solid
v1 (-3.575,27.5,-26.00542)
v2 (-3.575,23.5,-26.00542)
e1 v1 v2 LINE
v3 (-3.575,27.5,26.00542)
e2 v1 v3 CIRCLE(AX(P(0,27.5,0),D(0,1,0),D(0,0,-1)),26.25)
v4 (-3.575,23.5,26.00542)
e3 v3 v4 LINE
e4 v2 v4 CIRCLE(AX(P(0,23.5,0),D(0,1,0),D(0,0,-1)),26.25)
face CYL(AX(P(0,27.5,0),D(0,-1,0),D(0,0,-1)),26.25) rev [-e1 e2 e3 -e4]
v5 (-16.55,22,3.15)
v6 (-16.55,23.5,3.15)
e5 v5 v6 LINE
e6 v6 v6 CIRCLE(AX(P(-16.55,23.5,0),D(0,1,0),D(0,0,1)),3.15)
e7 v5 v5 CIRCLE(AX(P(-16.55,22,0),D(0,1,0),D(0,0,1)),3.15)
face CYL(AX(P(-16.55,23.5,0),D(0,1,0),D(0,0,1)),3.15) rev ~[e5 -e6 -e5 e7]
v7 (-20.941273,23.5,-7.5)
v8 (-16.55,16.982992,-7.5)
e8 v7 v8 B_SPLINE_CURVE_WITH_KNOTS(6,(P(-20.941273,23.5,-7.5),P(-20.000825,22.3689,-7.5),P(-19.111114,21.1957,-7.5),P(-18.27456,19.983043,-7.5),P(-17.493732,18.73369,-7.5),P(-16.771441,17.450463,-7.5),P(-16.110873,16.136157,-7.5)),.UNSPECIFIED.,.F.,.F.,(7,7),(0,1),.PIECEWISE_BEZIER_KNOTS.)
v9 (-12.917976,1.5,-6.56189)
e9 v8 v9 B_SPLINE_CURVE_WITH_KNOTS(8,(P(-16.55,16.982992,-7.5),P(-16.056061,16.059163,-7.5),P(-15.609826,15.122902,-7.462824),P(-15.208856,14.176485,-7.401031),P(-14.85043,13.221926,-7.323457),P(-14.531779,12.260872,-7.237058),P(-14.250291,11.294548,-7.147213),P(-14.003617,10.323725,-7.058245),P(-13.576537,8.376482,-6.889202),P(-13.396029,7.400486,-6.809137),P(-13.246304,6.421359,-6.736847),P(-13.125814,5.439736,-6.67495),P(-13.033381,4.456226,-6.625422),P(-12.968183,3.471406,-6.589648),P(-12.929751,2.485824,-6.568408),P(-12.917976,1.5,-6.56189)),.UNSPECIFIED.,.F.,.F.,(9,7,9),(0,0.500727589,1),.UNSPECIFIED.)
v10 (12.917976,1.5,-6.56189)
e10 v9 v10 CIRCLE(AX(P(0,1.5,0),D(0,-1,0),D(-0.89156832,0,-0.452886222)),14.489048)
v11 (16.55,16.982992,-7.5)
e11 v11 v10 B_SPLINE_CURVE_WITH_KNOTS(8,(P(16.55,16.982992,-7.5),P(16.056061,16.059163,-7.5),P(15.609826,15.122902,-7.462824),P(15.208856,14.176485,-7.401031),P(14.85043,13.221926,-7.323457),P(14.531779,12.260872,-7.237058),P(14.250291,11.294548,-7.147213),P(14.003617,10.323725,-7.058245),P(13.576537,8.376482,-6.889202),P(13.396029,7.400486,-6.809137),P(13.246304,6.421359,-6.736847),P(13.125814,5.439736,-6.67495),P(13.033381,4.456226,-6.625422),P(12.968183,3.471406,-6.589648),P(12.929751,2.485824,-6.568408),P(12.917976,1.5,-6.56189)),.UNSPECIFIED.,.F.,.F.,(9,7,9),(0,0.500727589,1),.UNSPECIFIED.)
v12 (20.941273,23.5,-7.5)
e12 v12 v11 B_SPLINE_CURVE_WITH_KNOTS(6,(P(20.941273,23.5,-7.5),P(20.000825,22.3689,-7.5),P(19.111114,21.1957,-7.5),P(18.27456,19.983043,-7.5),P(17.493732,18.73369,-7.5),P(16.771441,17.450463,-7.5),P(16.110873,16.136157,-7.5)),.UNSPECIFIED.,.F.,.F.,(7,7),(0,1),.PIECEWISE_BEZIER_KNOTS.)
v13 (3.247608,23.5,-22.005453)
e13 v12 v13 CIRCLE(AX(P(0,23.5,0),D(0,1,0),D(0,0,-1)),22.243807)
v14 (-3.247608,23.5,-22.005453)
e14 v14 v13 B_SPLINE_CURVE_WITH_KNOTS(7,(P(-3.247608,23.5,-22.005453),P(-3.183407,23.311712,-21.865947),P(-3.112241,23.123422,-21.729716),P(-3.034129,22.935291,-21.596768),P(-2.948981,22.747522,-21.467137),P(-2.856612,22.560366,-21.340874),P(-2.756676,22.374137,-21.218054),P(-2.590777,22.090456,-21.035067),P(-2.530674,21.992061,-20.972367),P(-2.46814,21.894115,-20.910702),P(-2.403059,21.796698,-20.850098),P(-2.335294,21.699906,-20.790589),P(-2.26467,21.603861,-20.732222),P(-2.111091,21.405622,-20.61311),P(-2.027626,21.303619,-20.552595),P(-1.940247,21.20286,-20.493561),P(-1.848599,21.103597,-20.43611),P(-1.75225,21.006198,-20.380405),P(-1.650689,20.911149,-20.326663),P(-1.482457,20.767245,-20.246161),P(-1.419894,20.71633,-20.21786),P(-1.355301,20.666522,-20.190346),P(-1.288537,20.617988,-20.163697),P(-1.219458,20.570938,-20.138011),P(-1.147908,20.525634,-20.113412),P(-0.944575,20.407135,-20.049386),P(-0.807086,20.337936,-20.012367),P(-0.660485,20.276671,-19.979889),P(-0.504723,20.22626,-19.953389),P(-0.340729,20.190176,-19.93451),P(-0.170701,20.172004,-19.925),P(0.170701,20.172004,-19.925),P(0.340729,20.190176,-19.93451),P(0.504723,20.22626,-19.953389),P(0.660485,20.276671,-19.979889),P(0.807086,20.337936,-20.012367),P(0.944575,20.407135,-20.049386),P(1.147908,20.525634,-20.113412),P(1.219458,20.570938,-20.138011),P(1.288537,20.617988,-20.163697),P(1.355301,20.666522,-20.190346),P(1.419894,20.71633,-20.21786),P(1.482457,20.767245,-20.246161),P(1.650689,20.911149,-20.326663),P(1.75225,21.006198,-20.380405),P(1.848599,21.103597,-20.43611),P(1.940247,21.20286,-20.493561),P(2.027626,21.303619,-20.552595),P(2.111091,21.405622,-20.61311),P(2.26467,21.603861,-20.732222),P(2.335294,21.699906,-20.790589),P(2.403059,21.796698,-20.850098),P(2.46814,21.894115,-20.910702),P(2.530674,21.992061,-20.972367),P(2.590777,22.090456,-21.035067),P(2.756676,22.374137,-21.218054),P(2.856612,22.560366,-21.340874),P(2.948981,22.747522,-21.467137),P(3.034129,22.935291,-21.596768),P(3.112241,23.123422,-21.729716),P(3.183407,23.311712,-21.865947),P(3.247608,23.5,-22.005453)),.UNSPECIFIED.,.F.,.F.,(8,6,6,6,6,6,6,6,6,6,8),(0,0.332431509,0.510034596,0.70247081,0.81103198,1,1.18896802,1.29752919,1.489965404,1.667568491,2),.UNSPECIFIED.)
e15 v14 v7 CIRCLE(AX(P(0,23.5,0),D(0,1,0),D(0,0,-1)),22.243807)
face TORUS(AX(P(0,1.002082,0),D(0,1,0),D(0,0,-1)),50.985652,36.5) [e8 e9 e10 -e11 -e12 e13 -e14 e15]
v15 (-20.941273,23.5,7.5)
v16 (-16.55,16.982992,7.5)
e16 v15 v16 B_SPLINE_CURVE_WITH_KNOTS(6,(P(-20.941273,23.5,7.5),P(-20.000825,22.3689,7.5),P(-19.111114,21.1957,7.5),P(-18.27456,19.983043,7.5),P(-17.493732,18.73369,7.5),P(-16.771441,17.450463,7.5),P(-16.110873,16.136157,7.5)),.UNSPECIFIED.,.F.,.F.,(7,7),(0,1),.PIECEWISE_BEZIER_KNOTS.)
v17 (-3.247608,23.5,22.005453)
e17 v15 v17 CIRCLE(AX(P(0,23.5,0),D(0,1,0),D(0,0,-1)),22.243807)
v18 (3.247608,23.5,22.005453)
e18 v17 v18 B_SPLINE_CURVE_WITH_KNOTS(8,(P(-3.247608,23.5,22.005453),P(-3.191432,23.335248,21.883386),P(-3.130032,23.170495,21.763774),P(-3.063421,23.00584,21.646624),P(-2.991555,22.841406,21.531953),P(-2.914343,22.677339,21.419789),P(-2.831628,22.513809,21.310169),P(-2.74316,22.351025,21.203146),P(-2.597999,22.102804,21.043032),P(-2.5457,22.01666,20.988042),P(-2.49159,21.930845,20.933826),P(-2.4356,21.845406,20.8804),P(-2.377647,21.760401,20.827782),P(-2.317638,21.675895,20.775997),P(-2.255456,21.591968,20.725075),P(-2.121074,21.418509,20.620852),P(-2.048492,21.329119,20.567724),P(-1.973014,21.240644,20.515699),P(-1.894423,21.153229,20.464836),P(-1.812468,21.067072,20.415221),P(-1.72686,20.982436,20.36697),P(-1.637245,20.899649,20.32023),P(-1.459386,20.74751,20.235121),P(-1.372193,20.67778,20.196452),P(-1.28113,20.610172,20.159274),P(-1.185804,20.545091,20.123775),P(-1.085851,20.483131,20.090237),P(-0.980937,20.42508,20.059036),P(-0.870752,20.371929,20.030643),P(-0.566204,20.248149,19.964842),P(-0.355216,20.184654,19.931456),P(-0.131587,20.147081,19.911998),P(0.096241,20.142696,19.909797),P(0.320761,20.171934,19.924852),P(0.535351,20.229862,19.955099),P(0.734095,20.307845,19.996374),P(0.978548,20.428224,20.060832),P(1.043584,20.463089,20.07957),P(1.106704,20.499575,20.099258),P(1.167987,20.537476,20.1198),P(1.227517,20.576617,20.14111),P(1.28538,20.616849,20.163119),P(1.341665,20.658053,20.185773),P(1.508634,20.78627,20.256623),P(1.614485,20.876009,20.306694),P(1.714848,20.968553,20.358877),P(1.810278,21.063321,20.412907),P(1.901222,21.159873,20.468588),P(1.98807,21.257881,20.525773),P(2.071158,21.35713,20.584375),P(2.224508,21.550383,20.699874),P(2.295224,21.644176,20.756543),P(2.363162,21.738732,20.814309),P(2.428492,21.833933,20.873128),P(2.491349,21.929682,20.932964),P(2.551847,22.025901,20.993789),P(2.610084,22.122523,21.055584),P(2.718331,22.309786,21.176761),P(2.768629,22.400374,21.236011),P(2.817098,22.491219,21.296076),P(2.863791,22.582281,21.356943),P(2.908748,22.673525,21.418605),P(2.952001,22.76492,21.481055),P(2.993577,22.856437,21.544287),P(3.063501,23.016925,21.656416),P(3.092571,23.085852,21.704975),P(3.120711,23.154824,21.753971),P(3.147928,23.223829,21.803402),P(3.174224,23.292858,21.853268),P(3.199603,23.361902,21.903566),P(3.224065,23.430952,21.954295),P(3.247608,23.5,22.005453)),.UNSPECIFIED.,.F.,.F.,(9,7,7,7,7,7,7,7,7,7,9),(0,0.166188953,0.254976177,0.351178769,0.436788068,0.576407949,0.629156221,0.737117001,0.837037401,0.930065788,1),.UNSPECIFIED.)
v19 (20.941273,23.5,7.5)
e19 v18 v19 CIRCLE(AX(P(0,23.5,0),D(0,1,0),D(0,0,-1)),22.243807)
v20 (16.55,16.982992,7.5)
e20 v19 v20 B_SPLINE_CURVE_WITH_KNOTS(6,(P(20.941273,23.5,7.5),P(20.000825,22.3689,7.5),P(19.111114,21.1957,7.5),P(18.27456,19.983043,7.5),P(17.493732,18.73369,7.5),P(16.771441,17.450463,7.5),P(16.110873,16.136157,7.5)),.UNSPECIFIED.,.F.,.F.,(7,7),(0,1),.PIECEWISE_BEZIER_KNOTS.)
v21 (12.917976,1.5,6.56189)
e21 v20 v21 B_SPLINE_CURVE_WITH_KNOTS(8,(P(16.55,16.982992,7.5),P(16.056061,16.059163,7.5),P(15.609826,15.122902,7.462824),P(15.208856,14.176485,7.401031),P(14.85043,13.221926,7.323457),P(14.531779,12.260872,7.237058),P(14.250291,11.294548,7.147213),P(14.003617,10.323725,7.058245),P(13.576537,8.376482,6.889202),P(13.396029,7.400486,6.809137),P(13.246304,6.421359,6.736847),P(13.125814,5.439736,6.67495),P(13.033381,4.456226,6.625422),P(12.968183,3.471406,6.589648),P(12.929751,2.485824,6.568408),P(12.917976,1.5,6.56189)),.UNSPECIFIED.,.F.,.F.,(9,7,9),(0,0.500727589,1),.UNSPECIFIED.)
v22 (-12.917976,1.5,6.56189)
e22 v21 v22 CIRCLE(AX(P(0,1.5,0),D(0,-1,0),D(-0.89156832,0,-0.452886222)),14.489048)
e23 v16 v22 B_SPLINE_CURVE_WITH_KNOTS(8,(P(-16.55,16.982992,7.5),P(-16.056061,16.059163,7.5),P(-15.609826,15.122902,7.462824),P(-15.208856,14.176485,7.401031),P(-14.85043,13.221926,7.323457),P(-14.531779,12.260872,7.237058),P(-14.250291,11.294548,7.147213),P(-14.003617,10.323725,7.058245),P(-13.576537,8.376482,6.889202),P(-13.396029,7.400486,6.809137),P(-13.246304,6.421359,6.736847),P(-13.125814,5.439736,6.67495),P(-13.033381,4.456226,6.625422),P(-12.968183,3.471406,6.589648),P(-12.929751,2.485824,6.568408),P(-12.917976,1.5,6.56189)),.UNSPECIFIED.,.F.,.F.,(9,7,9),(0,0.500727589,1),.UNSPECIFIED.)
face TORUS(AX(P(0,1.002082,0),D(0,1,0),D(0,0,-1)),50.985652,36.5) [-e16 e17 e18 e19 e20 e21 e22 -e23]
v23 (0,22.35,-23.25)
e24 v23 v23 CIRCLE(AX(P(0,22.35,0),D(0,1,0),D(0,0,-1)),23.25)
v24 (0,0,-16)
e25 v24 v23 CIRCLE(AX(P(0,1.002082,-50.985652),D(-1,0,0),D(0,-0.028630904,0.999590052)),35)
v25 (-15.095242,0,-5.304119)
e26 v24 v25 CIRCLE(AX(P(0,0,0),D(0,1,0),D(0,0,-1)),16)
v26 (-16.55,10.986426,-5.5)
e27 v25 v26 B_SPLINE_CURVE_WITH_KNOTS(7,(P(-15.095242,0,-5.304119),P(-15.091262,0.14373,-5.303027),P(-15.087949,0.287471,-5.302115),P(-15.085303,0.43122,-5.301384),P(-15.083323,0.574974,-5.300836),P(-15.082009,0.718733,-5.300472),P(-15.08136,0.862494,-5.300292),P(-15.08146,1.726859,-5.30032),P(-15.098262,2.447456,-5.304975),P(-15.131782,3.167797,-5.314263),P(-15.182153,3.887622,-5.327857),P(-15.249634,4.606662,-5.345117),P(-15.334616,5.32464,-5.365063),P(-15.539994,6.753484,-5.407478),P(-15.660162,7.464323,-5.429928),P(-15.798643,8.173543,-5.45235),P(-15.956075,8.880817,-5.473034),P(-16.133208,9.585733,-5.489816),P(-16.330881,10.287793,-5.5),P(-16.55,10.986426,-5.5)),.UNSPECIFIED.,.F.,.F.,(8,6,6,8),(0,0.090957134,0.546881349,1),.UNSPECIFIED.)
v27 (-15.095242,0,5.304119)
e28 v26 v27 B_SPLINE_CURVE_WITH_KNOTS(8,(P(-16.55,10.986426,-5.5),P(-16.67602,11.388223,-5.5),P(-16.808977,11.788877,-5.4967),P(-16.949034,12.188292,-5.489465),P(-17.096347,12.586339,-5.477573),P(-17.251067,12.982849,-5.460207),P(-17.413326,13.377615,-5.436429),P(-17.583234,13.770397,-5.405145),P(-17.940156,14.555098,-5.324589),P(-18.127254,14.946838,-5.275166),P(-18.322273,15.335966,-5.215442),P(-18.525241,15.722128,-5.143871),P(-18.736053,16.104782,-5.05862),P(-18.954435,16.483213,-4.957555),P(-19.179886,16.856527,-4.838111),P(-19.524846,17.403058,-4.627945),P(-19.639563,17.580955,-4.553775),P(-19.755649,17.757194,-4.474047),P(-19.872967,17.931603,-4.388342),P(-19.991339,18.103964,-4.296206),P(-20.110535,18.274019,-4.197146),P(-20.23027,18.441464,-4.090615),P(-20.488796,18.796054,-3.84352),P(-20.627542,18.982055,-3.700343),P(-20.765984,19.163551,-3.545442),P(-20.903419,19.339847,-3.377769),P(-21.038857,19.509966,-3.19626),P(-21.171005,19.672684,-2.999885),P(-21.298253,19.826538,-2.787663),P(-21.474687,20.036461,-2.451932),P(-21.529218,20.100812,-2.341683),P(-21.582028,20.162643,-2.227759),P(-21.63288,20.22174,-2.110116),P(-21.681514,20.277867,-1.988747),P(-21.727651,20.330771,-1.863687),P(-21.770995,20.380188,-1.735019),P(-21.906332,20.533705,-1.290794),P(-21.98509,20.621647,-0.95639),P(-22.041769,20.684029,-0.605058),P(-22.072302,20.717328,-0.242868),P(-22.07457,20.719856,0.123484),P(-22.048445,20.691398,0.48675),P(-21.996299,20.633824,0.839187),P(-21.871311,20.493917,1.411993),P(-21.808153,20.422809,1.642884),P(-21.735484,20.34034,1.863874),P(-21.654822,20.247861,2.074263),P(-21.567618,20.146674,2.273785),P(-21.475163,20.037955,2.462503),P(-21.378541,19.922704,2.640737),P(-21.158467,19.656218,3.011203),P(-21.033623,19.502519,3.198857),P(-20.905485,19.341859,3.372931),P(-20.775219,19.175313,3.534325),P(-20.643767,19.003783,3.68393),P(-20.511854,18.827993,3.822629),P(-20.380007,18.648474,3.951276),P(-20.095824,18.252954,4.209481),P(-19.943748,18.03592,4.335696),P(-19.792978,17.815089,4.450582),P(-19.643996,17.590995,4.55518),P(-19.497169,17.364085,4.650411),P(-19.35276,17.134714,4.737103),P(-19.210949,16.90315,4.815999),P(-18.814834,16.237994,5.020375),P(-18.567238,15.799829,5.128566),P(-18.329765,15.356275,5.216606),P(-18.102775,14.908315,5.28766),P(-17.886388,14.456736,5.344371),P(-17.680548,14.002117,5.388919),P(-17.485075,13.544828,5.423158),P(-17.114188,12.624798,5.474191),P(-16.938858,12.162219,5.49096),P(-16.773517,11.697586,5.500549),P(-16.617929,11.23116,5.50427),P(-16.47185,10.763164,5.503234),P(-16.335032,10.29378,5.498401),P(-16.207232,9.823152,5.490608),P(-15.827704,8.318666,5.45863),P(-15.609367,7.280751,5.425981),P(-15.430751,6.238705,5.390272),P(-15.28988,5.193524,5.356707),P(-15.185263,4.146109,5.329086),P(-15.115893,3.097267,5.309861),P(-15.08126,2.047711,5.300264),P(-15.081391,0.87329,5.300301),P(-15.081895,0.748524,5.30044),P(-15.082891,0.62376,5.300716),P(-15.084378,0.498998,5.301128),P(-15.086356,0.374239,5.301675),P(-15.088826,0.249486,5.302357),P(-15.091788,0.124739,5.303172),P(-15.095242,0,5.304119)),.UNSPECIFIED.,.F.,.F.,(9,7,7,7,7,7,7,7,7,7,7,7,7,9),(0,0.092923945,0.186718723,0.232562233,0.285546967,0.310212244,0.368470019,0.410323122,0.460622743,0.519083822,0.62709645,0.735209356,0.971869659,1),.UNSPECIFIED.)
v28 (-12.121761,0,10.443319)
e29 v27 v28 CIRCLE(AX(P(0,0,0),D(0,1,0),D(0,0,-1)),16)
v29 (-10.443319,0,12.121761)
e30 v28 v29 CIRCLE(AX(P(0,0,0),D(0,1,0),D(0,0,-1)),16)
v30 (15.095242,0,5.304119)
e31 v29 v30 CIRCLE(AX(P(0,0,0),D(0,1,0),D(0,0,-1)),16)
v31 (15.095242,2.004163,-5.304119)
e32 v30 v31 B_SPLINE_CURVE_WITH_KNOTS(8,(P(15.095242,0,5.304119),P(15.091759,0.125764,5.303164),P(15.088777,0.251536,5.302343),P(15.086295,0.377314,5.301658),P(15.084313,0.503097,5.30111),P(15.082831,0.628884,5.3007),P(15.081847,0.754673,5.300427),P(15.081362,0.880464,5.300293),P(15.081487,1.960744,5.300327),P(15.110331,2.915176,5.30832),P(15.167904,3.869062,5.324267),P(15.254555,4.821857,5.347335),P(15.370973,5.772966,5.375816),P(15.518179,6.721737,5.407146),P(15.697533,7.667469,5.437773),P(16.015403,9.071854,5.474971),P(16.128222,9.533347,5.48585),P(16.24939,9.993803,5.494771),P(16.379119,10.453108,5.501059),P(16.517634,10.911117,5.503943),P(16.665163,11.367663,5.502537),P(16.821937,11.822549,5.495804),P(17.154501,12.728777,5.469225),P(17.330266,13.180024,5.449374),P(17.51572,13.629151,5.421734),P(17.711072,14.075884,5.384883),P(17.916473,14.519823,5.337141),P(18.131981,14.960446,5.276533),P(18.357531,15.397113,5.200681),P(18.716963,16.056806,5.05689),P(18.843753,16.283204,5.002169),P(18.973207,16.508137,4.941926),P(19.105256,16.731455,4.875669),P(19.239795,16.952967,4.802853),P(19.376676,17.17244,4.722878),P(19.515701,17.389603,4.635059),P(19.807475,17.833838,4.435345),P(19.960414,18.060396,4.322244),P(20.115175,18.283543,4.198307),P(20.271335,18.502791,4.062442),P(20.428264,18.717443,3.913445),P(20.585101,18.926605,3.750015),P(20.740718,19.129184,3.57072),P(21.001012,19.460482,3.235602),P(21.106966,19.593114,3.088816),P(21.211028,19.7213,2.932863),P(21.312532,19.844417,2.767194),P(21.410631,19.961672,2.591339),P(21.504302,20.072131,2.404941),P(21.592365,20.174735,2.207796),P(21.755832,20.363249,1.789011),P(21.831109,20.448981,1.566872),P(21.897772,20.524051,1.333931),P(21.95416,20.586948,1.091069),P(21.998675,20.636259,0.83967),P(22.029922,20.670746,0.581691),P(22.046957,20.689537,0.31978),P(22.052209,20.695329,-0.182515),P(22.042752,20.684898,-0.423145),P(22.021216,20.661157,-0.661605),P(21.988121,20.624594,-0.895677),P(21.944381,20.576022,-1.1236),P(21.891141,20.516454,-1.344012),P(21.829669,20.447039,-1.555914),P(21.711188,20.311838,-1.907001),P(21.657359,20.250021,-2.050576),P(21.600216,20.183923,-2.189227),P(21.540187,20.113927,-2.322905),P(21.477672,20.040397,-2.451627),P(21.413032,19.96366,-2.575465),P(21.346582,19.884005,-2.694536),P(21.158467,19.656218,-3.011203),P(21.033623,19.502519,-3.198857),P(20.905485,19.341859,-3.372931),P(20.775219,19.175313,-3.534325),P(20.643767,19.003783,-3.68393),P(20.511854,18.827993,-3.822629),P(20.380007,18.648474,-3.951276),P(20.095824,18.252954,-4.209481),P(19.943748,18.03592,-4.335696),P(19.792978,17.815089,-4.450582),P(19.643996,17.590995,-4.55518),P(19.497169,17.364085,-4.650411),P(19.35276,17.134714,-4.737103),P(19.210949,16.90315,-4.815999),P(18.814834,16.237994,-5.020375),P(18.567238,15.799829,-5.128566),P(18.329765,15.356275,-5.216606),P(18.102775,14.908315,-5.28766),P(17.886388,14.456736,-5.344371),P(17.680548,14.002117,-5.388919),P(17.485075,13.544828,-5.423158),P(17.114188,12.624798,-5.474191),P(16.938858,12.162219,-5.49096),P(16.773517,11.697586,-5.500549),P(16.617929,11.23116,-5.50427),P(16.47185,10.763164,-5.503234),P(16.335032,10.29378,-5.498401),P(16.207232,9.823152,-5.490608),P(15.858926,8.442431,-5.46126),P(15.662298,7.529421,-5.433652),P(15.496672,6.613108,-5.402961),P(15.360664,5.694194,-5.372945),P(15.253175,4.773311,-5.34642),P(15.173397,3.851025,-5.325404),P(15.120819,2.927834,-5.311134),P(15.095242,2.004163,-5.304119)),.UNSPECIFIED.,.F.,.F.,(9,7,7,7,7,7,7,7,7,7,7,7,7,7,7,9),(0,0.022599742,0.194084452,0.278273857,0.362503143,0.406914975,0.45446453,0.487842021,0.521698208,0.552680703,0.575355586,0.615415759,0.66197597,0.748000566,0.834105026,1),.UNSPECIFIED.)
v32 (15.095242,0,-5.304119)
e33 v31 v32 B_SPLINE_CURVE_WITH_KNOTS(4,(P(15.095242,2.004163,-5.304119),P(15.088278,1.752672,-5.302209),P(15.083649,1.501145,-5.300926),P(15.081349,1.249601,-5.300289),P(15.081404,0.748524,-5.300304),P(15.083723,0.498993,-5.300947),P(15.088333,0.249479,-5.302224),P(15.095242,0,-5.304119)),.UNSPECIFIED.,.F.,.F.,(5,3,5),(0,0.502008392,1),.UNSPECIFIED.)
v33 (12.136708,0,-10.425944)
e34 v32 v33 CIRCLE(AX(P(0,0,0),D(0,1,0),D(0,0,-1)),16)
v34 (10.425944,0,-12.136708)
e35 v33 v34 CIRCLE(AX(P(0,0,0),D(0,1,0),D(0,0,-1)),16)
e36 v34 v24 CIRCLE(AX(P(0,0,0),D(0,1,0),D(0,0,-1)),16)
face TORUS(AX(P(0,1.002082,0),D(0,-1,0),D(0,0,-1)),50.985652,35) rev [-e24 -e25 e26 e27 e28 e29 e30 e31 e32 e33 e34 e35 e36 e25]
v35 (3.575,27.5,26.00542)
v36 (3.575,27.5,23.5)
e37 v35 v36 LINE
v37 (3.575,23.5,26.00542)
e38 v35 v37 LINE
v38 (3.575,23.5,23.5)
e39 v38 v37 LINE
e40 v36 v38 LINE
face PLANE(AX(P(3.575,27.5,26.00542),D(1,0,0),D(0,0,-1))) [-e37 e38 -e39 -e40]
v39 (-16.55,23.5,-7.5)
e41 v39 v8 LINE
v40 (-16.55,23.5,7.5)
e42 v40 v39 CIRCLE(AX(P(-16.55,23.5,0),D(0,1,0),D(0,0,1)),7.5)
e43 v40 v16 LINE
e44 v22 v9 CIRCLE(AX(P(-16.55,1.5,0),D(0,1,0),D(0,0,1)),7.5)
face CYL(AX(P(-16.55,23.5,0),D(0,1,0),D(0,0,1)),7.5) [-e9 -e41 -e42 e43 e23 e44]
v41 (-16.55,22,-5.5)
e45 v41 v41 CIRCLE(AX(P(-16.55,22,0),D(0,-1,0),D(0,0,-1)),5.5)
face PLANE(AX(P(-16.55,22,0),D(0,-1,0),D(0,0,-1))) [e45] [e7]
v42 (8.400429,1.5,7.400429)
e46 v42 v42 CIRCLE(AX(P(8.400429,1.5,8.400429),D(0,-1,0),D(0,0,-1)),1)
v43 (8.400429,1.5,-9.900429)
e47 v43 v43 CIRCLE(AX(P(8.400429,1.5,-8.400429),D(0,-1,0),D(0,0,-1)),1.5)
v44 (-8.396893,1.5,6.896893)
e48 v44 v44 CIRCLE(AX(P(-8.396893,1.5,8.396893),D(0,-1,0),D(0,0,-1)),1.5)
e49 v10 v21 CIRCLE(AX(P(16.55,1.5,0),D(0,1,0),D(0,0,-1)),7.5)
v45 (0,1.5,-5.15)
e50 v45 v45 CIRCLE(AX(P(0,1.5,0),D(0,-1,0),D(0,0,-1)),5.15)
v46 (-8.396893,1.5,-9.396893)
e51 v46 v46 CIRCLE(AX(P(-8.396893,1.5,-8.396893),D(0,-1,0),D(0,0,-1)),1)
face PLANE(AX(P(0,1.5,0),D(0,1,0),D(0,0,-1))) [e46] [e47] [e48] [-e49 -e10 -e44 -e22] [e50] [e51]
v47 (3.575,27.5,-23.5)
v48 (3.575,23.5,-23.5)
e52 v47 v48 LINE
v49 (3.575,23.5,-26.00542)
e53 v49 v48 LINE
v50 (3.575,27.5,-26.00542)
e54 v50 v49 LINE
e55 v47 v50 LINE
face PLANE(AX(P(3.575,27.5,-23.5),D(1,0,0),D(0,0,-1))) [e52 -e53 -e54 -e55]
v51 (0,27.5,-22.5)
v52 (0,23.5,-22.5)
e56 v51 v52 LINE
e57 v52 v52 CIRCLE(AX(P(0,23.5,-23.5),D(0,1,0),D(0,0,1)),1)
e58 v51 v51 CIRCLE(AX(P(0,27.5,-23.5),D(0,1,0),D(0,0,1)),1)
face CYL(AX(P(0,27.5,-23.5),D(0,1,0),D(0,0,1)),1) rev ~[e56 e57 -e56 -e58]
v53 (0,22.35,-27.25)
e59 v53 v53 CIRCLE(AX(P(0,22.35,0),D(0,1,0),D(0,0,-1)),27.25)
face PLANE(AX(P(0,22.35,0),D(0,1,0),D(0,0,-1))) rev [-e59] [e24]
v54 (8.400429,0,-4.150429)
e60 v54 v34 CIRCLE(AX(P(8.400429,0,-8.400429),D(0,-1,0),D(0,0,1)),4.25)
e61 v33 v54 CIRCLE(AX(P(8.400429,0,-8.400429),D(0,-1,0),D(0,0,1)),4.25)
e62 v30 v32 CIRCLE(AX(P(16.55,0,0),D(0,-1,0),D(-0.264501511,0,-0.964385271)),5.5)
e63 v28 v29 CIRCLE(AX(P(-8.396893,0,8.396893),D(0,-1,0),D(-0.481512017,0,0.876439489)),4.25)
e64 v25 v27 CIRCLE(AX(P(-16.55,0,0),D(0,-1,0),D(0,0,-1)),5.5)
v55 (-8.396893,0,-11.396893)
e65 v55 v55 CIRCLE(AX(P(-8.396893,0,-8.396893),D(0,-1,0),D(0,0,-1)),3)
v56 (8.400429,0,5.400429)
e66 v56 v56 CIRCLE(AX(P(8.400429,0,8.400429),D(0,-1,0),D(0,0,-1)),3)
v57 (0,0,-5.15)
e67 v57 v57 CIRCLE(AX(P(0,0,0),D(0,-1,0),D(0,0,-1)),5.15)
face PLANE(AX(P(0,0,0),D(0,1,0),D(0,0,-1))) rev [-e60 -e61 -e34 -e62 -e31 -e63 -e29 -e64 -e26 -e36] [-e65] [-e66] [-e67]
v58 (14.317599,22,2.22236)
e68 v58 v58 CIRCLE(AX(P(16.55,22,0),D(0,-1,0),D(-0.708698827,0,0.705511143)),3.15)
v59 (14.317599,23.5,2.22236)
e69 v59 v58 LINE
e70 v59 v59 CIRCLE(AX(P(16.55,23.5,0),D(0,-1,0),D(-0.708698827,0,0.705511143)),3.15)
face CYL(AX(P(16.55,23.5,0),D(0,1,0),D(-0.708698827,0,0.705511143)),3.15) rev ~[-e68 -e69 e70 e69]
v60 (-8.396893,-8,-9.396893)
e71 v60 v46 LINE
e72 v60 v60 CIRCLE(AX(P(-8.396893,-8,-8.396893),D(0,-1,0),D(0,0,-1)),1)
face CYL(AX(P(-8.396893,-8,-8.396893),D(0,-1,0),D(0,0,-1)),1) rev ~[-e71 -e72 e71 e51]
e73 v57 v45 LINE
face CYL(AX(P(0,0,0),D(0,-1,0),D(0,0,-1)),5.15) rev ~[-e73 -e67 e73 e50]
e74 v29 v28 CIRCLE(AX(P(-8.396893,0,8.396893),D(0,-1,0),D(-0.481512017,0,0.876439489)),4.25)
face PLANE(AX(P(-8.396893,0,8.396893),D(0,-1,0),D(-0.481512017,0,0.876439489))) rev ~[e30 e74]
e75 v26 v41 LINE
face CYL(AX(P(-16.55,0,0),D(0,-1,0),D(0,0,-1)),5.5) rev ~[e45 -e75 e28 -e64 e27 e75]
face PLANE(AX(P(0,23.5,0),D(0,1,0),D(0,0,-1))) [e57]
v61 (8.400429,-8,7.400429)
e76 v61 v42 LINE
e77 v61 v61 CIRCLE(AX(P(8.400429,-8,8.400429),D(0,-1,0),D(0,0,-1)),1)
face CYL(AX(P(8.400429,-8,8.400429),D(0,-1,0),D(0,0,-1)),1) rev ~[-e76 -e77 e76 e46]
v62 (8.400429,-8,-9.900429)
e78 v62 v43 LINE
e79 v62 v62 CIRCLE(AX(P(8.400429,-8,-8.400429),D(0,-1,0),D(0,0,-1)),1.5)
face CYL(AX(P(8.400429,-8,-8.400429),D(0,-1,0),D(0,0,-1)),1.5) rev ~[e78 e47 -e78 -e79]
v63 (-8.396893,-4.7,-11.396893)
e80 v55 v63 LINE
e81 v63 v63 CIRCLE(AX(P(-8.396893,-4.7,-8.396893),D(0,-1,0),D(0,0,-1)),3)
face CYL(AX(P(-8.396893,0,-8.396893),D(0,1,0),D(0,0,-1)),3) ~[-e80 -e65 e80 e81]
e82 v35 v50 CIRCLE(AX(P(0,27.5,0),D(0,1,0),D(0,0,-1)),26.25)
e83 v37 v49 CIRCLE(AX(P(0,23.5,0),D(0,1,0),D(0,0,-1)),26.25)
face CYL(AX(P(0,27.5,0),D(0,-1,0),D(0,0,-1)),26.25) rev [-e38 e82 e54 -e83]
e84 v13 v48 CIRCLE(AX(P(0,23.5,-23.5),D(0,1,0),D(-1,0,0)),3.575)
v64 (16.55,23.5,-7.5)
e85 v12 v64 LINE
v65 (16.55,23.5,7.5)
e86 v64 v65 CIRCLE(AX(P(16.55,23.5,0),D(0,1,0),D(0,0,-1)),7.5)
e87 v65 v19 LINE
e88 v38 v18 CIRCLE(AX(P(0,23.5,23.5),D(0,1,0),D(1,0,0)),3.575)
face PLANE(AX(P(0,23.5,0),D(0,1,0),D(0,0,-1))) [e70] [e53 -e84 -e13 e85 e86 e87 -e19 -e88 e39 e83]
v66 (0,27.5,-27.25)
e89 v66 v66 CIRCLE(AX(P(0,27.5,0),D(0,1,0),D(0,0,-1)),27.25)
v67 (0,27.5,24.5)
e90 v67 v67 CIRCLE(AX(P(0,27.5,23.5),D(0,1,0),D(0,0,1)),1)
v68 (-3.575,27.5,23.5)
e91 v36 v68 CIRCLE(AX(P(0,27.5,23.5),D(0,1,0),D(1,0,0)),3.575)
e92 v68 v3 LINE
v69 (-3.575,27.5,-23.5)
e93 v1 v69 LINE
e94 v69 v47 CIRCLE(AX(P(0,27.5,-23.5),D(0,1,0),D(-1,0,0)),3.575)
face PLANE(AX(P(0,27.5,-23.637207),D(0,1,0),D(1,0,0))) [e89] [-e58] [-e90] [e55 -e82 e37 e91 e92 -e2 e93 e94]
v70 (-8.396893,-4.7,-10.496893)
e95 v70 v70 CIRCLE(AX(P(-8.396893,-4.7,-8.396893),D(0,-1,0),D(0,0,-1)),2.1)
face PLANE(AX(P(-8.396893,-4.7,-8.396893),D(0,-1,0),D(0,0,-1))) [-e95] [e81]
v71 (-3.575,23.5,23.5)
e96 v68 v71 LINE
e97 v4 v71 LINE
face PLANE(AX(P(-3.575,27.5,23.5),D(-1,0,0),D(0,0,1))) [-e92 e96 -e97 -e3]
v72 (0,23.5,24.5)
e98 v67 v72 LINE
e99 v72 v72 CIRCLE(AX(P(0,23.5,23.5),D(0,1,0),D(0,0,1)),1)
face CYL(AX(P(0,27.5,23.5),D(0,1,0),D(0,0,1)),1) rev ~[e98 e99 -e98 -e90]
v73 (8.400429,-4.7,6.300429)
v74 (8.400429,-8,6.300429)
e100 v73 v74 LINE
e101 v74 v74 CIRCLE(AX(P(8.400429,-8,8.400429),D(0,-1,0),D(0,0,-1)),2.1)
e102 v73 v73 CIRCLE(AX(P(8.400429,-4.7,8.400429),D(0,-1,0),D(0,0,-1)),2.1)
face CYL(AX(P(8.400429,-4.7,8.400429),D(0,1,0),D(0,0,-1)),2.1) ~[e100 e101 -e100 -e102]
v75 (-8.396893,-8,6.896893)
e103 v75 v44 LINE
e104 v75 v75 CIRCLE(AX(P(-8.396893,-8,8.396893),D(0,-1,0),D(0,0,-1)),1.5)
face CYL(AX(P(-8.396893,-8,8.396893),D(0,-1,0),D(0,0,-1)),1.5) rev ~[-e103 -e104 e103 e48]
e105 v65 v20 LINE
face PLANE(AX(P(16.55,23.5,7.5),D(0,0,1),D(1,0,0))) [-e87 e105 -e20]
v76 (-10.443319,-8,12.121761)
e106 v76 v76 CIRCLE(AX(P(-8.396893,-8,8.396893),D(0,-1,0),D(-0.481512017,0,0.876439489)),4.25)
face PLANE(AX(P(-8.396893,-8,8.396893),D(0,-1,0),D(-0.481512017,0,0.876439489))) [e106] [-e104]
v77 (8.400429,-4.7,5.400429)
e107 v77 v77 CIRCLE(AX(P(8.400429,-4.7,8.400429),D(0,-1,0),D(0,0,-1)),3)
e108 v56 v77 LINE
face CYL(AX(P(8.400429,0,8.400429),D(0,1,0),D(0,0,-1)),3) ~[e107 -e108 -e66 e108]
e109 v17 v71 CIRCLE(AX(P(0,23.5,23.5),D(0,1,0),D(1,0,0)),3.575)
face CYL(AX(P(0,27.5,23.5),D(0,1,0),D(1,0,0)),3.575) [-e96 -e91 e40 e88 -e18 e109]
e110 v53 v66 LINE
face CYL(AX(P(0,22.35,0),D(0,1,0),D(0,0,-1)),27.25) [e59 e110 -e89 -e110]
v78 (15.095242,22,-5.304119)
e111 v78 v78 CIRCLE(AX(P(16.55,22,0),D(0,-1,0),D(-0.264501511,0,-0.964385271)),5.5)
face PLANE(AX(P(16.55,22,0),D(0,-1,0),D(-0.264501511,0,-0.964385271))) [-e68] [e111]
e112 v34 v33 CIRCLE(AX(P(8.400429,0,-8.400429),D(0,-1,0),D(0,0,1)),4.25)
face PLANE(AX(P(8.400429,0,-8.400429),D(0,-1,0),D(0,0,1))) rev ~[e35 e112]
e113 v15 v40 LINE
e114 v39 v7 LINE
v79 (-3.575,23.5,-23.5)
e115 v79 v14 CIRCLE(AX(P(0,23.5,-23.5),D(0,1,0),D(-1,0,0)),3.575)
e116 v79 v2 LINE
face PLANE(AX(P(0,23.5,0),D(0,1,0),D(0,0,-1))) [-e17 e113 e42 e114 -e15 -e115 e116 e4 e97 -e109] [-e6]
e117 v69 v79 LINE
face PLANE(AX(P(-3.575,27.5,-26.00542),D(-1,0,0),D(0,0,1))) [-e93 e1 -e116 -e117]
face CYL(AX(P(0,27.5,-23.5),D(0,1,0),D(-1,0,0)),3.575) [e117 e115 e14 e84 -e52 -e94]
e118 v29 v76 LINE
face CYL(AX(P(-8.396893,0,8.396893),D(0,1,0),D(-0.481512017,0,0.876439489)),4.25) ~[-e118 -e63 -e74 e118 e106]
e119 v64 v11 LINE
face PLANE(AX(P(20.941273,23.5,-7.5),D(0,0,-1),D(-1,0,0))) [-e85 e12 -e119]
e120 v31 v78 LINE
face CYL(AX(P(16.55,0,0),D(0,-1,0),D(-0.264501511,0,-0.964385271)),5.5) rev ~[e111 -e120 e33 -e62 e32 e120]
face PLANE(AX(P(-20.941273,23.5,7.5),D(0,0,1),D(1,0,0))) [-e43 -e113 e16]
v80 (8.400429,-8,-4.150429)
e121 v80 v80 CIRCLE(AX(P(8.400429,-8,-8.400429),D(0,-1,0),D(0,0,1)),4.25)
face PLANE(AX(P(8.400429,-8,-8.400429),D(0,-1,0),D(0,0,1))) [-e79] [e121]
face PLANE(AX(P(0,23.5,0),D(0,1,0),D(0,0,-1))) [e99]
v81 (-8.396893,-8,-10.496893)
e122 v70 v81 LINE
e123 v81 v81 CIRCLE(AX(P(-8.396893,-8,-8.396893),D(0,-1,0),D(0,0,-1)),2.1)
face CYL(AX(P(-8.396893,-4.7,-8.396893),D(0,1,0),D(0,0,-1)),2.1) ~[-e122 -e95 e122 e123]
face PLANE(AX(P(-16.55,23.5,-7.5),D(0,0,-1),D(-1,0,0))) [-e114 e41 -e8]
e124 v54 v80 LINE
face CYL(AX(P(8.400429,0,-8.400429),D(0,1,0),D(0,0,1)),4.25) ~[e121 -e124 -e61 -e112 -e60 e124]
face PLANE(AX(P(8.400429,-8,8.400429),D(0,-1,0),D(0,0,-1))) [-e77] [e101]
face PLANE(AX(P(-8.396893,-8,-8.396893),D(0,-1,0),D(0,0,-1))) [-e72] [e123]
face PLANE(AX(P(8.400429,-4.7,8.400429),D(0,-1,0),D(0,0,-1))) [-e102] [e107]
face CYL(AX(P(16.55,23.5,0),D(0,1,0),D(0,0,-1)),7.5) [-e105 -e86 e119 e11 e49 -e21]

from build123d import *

# Parameters (mm, degrees)
BOSS_EXTRU_1_REACH      = 49.343
ESQUISSE4_R             = 1
BOSS_EXTRU_2_REACH      = 47.137
ESQUISSE5_R             = 3.15
ESQUISSE6_R             = 5.15
ENL_V_MAT_EXTRU_2_DEPTH = 22
ESQUISSE8_R             = 3.15
ENL_V_MAT_EXTRU_3_DEPTH = 46.13729057
ESQUISSE9_R             = 5.5
ENL_V_MAT_EXTRU_5_DEPTH = 22
ESQUISSE10_R            = 4.25
ESQUISSE10_R_2          = 3
BOSS_EXTRU_3_DEPTH      = 8
ESQUISSE11_R            = 1.5
ENL_V_MAT_EXTRU_6_DEPTH = 53.396326275
ESQUISSE12_R            = 1
ENL_V_MAT_EXTRU_7_DEPTH = 53.396326275
ENL_V_START             = -3.3
ESQUISSE13_R            = 3
ESQUISSE13_R_2          = 2.1
ENL_V_MAT_EXTRU_8_DEPTH = 3.3


with BuildPart() as part:
    # Esquisse1 → Révolution1 (revolve)
    with BuildSketch(Plane.XY, mode=Mode.PRIVATE) as r_volution1_sk:
        with BuildLine():
            Line((0, 0), (16, 0))
            ThreePointArc((16, 0), (17.693443908, 11.801567412), (23.25, 22.35))
            Line((23.25, 22.35), (27.25, 22.35))
            Line((27.25, 22.35), (27.25, 27.5))
            Line((27.25, 27.5), (26.25, 27.5))
            Line((26.25, 27.5), (26.25, 23.5))
            Line((26.25, 23.5), (22.243806548, 23.5))
            ThreePointArc((22.243806548, 23.5), (16.561622355, 13.136173942), (14.489048167, 1.5))
            Line((14.489048167, 1.5), (0, 1.5))
            Line((0, 1.5), (0, 0))
        make_face()
    revolve(r_volution1_sk.sketch.rotate(Axis((0, 0, 0), (0, 1, 0)), 90), axis=Axis((0, 0, 0), (0, 1, 0)))

    # Esquisse4 → Boss.-Extru.1 (add, up to next)
    with BuildSketch(Plane(origin=(0, 27.5, 0), x_dir=(1, 0, 0), z_dir=(0, 1, 0)), mode=Mode.PRIVATE) as boss_extru_1_sk1:
        with BuildLine():
            Line((-3.575, 26.005420108), (-3.575, 23.5))
            ThreePointArc((-3.575, 23.5), (0, 19.925), (3.575, 23.5))
            Line((3.575, 23.5), (3.575, 26.005420108))
            ThreePointArc((3.575, 26.005420108), (0, 26.25), (-3.575, 26.005420108))
        make_face()
        with Locations(Location((0, 23.5, 0), (0, 0, 270))):
            Circle(ESQUISSE4_R, mode=Mode.SUBTRACT)
    boss_extru_1_tool1 = extrude(boss_extru_1_sk1.sketch, amount=-BOSS_EXTRU_1_REACH, mode=Mode.PRIVATE) - part.part
    # Esquisse4 → Boss.-Extru.1 (add, up to next)
    with BuildSketch(Plane(origin=(0, 27.5, 0), x_dir=(1, 0, 0), z_dir=(0, 1, 0)), mode=Mode.PRIVATE) as boss_extru_1_sk2:
        with BuildLine():
            Line((-3.575, -23.5), (-3.575, -26.005420108))
            ThreePointArc((-3.575, -26.005420108), (0, -26.25), (3.575, -26.005420108))
            Line((3.575, -26.005420108), (3.575, -23.5))
            ThreePointArc((3.575, -23.5), (0, -19.925), (-3.575, -23.5))
        make_face()
        with Locations(Location((0, -23.5, 0), (0, 0, 270))):
            Circle(ESQUISSE4_R, mode=Mode.SUBTRACT)
    boss_extru_1_tool2 = extrude(boss_extru_1_sk2.sketch, amount=-BOSS_EXTRU_1_REACH, mode=Mode.PRIVATE) - part.part
    add(boss_extru_1_tool1.solids().sort_by_distance((0, 27.5, -26.154539))[0])
    add(boss_extru_1_tool2.solids().sort_by_distance((3.479539, 27.5, 24.75271))[0])

    # Esquisse5 → Boss.-Extru.2 (add, up to next)
    with BuildSketch(Plane(origin=(0, 23.5, 0), x_dir=(1, 0, 0), z_dir=(0, 1, 0)), mode=Mode.PRIVATE) as boss_extru_2_sk1:
        with BuildLine():
            Line((-16.55, 7.5), (-20.941273355, 7.5))
            ThreePointArc((-20.941273355, 7.5), (-22.243806548, 0), (-20.941273355, -7.5))
            Line((-20.941273355, -7.5), (-16.55, -7.5))
            ThreePointArc((-16.55, -7.5), (-9.05, 0), (-16.55, 7.5))
        make_face()
        with Locations(Location((-16.55, 0, 0), (0, 0, 270))):
            Circle(ESQUISSE5_R, mode=Mode.SUBTRACT)
    boss_extru_2_tool1 = extrude(boss_extru_2_sk1.sketch, amount=-BOSS_EXTRU_2_REACH, mode=Mode.PRIVATE) - part.part
    # Esquisse5 → Boss.-Extru.2 (add, up to next)
    with BuildSketch(Plane(origin=(0, 23.5, 0), x_dir=(1, 0, 0), z_dir=(0, 1, 0)), mode=Mode.PRIVATE) as boss_extru_2_sk2:
        with BuildLine():
            Line((16.55, -7.5), (20.941273355, -7.5))
            ThreePointArc((20.941273355, -7.5), (22.243806548, 0), (20.941273355, 7.5))
            Line((20.941273355, 7.5), (16.55, 7.5))
            ThreePointArc((16.55, 7.5), (9.05, 0), (16.55, -7.5))
        make_face()
        with Locations(Location((16.55, 0, 0), (0, 0, 224.870853296))):
            Circle(ESQUISSE5_R, mode=Mode.SUBTRACT)
    boss_extru_2_tool2 = extrude(boss_extru_2_sk2.sketch, amount=-BOSS_EXTRU_2_REACH, mode=Mode.PRIVATE) - part.part
    add(boss_extru_2_tool1.solids().sort_by_distance((-18.745637, 23.5, -7.300231))[0])
    add(boss_extru_2_tool2.solids().sort_by_distance((18.745637, 23.5, 7.300231))[0])

    # Esquisse6 → Enlèv. mat.-Extru.2 (cut)
    with BuildSketch(Plane.XZ):
        with Locations(Location((0, 0, 0), (0, 0, 270))):
            Circle(ESQUISSE6_R)
    extrude(amount=-ENL_V_MAT_EXTRU_2_DEPTH, mode=Mode.SUBTRACT)

    # Esquisse8 → Enlèv. mat.-Extru.3 (cut, through all)
    with BuildSketch(Plane(origin=(0, 23.5, 0), x_dir=(1, 0, 0), z_dir=(0, 1, 0))):
        with Locations(Location((-16.55, 0, 0), (0, 0, 270))):
            Circle(ESQUISSE8_R)
        with Locations(Location((16.55, 0, 0), (0, 0, 254.52201619))):
            Circle(ESQUISSE8_R)
    extrude(amount=-ENL_V_MAT_EXTRU_3_DEPTH, mode=Mode.SUBTRACT)

    # Esquisse9 → Enlèv. mat.-Extru.5 (cut)
    with BuildSketch(Plane(origin=(0, 0, 0), x_dir=(-1, 0, 0), z_dir=(0, -1, 0))):
        with Locations(Location((16.55, 0, 0), (0, 0, 90))):
            Circle(ESQUISSE9_R)
        with Locations(Location((-16.55, 0, 0), (0, 0, 74.662665416))):
            Circle(ESQUISSE9_R)
    extrude(amount=-ENL_V_MAT_EXTRU_5_DEPTH, mode=Mode.SUBTRACT)

    # Esquisse10 → Boss.-Extru.3 (add)
    with BuildSketch(Plane.XZ):
        with Locations(Location((-8.396893027, 8.396893027, 0), (0, 0, 118.784200872))):
            Circle(ESQUISSE10_R)
        with Locations(Location((8.40042856, 8.40042856, 0), (0, 0, 270))):
            Circle(ESQUISSE10_R_2)
        with Locations(Location((8.40042856, -8.40042856, 0), (0, 0, 90))):
            Circle(ESQUISSE10_R)
        with Locations(Location((-8.396893027, -8.396893027, 0), (0, 0, 270))):
            Circle(ESQUISSE10_R_2)
    extrude(amount=BOSS_EXTRU_3_DEPTH)

    # Esquisse11 → Enlèv. mat.-Extru.6 (cut, through all)
    with BuildSketch(Plane.XZ.offset(8)):
        with Locations(Location((-8.396893027, 8.396893027, 0), (0, 0, 270))):
            Circle(ESQUISSE11_R)
        with Locations(Location((8.40042856, -8.40042856, 0), (0, 0, 270))):
            Circle(ESQUISSE11_R)
    extrude(amount=-ENL_V_MAT_EXTRU_6_DEPTH, mode=Mode.SUBTRACT)

    # Esquisse12 → Enlèv. mat.-Extru.7 (cut, through all)
    with BuildSketch(Plane.XZ.offset(8)):
        with Locations(Location((-8.396893027, -8.396893027, 0), (0, 0, 270))):
            Circle(ESQUISSE12_R)
        with Locations(Location((8.40042856, 8.40042856, 0), (0, 0, 270))):
            Circle(ESQUISSE12_R)
    extrude(amount=-ENL_V_MAT_EXTRU_7_DEPTH, mode=Mode.SUBTRACT)

    # Esquisse13 → Enlèv. mat.-Extru.8 (cut)
    # profile 1 of 2: a face of its own
    with BuildSketch(Plane.XZ.offset(8).offset(ENL_V_START)):
        with Locations(Location((-8.396893027, -8.396893027, 0), (0, 0, 270))):
            Circle(ESQUISSE13_R)
        with Locations(Location((-8.396893027, -8.396893027, 0), (0, 0, 270))):
            Circle(ESQUISSE13_R_2, mode=Mode.SUBTRACT)
    # profile 2 of 2: a face of its own
    with BuildSketch(Plane.XZ.offset(8).offset(ENL_V_START)):
        with Locations(Location((8.40042856, 8.40042856, 0), (0, 0, 270))):
            Circle(ESQUISSE13_R)
        with Locations(Location((8.40042856, 8.40042856, 0), (0, 0, 270))):
            Circle(ESQUISSE13_R_2, mode=Mode.SUBTRACT)
    extrude(amount=ENL_V_MAT_EXTRU_8_DEPTH, mode=Mode.SUBTRACT)


solid = part.part
